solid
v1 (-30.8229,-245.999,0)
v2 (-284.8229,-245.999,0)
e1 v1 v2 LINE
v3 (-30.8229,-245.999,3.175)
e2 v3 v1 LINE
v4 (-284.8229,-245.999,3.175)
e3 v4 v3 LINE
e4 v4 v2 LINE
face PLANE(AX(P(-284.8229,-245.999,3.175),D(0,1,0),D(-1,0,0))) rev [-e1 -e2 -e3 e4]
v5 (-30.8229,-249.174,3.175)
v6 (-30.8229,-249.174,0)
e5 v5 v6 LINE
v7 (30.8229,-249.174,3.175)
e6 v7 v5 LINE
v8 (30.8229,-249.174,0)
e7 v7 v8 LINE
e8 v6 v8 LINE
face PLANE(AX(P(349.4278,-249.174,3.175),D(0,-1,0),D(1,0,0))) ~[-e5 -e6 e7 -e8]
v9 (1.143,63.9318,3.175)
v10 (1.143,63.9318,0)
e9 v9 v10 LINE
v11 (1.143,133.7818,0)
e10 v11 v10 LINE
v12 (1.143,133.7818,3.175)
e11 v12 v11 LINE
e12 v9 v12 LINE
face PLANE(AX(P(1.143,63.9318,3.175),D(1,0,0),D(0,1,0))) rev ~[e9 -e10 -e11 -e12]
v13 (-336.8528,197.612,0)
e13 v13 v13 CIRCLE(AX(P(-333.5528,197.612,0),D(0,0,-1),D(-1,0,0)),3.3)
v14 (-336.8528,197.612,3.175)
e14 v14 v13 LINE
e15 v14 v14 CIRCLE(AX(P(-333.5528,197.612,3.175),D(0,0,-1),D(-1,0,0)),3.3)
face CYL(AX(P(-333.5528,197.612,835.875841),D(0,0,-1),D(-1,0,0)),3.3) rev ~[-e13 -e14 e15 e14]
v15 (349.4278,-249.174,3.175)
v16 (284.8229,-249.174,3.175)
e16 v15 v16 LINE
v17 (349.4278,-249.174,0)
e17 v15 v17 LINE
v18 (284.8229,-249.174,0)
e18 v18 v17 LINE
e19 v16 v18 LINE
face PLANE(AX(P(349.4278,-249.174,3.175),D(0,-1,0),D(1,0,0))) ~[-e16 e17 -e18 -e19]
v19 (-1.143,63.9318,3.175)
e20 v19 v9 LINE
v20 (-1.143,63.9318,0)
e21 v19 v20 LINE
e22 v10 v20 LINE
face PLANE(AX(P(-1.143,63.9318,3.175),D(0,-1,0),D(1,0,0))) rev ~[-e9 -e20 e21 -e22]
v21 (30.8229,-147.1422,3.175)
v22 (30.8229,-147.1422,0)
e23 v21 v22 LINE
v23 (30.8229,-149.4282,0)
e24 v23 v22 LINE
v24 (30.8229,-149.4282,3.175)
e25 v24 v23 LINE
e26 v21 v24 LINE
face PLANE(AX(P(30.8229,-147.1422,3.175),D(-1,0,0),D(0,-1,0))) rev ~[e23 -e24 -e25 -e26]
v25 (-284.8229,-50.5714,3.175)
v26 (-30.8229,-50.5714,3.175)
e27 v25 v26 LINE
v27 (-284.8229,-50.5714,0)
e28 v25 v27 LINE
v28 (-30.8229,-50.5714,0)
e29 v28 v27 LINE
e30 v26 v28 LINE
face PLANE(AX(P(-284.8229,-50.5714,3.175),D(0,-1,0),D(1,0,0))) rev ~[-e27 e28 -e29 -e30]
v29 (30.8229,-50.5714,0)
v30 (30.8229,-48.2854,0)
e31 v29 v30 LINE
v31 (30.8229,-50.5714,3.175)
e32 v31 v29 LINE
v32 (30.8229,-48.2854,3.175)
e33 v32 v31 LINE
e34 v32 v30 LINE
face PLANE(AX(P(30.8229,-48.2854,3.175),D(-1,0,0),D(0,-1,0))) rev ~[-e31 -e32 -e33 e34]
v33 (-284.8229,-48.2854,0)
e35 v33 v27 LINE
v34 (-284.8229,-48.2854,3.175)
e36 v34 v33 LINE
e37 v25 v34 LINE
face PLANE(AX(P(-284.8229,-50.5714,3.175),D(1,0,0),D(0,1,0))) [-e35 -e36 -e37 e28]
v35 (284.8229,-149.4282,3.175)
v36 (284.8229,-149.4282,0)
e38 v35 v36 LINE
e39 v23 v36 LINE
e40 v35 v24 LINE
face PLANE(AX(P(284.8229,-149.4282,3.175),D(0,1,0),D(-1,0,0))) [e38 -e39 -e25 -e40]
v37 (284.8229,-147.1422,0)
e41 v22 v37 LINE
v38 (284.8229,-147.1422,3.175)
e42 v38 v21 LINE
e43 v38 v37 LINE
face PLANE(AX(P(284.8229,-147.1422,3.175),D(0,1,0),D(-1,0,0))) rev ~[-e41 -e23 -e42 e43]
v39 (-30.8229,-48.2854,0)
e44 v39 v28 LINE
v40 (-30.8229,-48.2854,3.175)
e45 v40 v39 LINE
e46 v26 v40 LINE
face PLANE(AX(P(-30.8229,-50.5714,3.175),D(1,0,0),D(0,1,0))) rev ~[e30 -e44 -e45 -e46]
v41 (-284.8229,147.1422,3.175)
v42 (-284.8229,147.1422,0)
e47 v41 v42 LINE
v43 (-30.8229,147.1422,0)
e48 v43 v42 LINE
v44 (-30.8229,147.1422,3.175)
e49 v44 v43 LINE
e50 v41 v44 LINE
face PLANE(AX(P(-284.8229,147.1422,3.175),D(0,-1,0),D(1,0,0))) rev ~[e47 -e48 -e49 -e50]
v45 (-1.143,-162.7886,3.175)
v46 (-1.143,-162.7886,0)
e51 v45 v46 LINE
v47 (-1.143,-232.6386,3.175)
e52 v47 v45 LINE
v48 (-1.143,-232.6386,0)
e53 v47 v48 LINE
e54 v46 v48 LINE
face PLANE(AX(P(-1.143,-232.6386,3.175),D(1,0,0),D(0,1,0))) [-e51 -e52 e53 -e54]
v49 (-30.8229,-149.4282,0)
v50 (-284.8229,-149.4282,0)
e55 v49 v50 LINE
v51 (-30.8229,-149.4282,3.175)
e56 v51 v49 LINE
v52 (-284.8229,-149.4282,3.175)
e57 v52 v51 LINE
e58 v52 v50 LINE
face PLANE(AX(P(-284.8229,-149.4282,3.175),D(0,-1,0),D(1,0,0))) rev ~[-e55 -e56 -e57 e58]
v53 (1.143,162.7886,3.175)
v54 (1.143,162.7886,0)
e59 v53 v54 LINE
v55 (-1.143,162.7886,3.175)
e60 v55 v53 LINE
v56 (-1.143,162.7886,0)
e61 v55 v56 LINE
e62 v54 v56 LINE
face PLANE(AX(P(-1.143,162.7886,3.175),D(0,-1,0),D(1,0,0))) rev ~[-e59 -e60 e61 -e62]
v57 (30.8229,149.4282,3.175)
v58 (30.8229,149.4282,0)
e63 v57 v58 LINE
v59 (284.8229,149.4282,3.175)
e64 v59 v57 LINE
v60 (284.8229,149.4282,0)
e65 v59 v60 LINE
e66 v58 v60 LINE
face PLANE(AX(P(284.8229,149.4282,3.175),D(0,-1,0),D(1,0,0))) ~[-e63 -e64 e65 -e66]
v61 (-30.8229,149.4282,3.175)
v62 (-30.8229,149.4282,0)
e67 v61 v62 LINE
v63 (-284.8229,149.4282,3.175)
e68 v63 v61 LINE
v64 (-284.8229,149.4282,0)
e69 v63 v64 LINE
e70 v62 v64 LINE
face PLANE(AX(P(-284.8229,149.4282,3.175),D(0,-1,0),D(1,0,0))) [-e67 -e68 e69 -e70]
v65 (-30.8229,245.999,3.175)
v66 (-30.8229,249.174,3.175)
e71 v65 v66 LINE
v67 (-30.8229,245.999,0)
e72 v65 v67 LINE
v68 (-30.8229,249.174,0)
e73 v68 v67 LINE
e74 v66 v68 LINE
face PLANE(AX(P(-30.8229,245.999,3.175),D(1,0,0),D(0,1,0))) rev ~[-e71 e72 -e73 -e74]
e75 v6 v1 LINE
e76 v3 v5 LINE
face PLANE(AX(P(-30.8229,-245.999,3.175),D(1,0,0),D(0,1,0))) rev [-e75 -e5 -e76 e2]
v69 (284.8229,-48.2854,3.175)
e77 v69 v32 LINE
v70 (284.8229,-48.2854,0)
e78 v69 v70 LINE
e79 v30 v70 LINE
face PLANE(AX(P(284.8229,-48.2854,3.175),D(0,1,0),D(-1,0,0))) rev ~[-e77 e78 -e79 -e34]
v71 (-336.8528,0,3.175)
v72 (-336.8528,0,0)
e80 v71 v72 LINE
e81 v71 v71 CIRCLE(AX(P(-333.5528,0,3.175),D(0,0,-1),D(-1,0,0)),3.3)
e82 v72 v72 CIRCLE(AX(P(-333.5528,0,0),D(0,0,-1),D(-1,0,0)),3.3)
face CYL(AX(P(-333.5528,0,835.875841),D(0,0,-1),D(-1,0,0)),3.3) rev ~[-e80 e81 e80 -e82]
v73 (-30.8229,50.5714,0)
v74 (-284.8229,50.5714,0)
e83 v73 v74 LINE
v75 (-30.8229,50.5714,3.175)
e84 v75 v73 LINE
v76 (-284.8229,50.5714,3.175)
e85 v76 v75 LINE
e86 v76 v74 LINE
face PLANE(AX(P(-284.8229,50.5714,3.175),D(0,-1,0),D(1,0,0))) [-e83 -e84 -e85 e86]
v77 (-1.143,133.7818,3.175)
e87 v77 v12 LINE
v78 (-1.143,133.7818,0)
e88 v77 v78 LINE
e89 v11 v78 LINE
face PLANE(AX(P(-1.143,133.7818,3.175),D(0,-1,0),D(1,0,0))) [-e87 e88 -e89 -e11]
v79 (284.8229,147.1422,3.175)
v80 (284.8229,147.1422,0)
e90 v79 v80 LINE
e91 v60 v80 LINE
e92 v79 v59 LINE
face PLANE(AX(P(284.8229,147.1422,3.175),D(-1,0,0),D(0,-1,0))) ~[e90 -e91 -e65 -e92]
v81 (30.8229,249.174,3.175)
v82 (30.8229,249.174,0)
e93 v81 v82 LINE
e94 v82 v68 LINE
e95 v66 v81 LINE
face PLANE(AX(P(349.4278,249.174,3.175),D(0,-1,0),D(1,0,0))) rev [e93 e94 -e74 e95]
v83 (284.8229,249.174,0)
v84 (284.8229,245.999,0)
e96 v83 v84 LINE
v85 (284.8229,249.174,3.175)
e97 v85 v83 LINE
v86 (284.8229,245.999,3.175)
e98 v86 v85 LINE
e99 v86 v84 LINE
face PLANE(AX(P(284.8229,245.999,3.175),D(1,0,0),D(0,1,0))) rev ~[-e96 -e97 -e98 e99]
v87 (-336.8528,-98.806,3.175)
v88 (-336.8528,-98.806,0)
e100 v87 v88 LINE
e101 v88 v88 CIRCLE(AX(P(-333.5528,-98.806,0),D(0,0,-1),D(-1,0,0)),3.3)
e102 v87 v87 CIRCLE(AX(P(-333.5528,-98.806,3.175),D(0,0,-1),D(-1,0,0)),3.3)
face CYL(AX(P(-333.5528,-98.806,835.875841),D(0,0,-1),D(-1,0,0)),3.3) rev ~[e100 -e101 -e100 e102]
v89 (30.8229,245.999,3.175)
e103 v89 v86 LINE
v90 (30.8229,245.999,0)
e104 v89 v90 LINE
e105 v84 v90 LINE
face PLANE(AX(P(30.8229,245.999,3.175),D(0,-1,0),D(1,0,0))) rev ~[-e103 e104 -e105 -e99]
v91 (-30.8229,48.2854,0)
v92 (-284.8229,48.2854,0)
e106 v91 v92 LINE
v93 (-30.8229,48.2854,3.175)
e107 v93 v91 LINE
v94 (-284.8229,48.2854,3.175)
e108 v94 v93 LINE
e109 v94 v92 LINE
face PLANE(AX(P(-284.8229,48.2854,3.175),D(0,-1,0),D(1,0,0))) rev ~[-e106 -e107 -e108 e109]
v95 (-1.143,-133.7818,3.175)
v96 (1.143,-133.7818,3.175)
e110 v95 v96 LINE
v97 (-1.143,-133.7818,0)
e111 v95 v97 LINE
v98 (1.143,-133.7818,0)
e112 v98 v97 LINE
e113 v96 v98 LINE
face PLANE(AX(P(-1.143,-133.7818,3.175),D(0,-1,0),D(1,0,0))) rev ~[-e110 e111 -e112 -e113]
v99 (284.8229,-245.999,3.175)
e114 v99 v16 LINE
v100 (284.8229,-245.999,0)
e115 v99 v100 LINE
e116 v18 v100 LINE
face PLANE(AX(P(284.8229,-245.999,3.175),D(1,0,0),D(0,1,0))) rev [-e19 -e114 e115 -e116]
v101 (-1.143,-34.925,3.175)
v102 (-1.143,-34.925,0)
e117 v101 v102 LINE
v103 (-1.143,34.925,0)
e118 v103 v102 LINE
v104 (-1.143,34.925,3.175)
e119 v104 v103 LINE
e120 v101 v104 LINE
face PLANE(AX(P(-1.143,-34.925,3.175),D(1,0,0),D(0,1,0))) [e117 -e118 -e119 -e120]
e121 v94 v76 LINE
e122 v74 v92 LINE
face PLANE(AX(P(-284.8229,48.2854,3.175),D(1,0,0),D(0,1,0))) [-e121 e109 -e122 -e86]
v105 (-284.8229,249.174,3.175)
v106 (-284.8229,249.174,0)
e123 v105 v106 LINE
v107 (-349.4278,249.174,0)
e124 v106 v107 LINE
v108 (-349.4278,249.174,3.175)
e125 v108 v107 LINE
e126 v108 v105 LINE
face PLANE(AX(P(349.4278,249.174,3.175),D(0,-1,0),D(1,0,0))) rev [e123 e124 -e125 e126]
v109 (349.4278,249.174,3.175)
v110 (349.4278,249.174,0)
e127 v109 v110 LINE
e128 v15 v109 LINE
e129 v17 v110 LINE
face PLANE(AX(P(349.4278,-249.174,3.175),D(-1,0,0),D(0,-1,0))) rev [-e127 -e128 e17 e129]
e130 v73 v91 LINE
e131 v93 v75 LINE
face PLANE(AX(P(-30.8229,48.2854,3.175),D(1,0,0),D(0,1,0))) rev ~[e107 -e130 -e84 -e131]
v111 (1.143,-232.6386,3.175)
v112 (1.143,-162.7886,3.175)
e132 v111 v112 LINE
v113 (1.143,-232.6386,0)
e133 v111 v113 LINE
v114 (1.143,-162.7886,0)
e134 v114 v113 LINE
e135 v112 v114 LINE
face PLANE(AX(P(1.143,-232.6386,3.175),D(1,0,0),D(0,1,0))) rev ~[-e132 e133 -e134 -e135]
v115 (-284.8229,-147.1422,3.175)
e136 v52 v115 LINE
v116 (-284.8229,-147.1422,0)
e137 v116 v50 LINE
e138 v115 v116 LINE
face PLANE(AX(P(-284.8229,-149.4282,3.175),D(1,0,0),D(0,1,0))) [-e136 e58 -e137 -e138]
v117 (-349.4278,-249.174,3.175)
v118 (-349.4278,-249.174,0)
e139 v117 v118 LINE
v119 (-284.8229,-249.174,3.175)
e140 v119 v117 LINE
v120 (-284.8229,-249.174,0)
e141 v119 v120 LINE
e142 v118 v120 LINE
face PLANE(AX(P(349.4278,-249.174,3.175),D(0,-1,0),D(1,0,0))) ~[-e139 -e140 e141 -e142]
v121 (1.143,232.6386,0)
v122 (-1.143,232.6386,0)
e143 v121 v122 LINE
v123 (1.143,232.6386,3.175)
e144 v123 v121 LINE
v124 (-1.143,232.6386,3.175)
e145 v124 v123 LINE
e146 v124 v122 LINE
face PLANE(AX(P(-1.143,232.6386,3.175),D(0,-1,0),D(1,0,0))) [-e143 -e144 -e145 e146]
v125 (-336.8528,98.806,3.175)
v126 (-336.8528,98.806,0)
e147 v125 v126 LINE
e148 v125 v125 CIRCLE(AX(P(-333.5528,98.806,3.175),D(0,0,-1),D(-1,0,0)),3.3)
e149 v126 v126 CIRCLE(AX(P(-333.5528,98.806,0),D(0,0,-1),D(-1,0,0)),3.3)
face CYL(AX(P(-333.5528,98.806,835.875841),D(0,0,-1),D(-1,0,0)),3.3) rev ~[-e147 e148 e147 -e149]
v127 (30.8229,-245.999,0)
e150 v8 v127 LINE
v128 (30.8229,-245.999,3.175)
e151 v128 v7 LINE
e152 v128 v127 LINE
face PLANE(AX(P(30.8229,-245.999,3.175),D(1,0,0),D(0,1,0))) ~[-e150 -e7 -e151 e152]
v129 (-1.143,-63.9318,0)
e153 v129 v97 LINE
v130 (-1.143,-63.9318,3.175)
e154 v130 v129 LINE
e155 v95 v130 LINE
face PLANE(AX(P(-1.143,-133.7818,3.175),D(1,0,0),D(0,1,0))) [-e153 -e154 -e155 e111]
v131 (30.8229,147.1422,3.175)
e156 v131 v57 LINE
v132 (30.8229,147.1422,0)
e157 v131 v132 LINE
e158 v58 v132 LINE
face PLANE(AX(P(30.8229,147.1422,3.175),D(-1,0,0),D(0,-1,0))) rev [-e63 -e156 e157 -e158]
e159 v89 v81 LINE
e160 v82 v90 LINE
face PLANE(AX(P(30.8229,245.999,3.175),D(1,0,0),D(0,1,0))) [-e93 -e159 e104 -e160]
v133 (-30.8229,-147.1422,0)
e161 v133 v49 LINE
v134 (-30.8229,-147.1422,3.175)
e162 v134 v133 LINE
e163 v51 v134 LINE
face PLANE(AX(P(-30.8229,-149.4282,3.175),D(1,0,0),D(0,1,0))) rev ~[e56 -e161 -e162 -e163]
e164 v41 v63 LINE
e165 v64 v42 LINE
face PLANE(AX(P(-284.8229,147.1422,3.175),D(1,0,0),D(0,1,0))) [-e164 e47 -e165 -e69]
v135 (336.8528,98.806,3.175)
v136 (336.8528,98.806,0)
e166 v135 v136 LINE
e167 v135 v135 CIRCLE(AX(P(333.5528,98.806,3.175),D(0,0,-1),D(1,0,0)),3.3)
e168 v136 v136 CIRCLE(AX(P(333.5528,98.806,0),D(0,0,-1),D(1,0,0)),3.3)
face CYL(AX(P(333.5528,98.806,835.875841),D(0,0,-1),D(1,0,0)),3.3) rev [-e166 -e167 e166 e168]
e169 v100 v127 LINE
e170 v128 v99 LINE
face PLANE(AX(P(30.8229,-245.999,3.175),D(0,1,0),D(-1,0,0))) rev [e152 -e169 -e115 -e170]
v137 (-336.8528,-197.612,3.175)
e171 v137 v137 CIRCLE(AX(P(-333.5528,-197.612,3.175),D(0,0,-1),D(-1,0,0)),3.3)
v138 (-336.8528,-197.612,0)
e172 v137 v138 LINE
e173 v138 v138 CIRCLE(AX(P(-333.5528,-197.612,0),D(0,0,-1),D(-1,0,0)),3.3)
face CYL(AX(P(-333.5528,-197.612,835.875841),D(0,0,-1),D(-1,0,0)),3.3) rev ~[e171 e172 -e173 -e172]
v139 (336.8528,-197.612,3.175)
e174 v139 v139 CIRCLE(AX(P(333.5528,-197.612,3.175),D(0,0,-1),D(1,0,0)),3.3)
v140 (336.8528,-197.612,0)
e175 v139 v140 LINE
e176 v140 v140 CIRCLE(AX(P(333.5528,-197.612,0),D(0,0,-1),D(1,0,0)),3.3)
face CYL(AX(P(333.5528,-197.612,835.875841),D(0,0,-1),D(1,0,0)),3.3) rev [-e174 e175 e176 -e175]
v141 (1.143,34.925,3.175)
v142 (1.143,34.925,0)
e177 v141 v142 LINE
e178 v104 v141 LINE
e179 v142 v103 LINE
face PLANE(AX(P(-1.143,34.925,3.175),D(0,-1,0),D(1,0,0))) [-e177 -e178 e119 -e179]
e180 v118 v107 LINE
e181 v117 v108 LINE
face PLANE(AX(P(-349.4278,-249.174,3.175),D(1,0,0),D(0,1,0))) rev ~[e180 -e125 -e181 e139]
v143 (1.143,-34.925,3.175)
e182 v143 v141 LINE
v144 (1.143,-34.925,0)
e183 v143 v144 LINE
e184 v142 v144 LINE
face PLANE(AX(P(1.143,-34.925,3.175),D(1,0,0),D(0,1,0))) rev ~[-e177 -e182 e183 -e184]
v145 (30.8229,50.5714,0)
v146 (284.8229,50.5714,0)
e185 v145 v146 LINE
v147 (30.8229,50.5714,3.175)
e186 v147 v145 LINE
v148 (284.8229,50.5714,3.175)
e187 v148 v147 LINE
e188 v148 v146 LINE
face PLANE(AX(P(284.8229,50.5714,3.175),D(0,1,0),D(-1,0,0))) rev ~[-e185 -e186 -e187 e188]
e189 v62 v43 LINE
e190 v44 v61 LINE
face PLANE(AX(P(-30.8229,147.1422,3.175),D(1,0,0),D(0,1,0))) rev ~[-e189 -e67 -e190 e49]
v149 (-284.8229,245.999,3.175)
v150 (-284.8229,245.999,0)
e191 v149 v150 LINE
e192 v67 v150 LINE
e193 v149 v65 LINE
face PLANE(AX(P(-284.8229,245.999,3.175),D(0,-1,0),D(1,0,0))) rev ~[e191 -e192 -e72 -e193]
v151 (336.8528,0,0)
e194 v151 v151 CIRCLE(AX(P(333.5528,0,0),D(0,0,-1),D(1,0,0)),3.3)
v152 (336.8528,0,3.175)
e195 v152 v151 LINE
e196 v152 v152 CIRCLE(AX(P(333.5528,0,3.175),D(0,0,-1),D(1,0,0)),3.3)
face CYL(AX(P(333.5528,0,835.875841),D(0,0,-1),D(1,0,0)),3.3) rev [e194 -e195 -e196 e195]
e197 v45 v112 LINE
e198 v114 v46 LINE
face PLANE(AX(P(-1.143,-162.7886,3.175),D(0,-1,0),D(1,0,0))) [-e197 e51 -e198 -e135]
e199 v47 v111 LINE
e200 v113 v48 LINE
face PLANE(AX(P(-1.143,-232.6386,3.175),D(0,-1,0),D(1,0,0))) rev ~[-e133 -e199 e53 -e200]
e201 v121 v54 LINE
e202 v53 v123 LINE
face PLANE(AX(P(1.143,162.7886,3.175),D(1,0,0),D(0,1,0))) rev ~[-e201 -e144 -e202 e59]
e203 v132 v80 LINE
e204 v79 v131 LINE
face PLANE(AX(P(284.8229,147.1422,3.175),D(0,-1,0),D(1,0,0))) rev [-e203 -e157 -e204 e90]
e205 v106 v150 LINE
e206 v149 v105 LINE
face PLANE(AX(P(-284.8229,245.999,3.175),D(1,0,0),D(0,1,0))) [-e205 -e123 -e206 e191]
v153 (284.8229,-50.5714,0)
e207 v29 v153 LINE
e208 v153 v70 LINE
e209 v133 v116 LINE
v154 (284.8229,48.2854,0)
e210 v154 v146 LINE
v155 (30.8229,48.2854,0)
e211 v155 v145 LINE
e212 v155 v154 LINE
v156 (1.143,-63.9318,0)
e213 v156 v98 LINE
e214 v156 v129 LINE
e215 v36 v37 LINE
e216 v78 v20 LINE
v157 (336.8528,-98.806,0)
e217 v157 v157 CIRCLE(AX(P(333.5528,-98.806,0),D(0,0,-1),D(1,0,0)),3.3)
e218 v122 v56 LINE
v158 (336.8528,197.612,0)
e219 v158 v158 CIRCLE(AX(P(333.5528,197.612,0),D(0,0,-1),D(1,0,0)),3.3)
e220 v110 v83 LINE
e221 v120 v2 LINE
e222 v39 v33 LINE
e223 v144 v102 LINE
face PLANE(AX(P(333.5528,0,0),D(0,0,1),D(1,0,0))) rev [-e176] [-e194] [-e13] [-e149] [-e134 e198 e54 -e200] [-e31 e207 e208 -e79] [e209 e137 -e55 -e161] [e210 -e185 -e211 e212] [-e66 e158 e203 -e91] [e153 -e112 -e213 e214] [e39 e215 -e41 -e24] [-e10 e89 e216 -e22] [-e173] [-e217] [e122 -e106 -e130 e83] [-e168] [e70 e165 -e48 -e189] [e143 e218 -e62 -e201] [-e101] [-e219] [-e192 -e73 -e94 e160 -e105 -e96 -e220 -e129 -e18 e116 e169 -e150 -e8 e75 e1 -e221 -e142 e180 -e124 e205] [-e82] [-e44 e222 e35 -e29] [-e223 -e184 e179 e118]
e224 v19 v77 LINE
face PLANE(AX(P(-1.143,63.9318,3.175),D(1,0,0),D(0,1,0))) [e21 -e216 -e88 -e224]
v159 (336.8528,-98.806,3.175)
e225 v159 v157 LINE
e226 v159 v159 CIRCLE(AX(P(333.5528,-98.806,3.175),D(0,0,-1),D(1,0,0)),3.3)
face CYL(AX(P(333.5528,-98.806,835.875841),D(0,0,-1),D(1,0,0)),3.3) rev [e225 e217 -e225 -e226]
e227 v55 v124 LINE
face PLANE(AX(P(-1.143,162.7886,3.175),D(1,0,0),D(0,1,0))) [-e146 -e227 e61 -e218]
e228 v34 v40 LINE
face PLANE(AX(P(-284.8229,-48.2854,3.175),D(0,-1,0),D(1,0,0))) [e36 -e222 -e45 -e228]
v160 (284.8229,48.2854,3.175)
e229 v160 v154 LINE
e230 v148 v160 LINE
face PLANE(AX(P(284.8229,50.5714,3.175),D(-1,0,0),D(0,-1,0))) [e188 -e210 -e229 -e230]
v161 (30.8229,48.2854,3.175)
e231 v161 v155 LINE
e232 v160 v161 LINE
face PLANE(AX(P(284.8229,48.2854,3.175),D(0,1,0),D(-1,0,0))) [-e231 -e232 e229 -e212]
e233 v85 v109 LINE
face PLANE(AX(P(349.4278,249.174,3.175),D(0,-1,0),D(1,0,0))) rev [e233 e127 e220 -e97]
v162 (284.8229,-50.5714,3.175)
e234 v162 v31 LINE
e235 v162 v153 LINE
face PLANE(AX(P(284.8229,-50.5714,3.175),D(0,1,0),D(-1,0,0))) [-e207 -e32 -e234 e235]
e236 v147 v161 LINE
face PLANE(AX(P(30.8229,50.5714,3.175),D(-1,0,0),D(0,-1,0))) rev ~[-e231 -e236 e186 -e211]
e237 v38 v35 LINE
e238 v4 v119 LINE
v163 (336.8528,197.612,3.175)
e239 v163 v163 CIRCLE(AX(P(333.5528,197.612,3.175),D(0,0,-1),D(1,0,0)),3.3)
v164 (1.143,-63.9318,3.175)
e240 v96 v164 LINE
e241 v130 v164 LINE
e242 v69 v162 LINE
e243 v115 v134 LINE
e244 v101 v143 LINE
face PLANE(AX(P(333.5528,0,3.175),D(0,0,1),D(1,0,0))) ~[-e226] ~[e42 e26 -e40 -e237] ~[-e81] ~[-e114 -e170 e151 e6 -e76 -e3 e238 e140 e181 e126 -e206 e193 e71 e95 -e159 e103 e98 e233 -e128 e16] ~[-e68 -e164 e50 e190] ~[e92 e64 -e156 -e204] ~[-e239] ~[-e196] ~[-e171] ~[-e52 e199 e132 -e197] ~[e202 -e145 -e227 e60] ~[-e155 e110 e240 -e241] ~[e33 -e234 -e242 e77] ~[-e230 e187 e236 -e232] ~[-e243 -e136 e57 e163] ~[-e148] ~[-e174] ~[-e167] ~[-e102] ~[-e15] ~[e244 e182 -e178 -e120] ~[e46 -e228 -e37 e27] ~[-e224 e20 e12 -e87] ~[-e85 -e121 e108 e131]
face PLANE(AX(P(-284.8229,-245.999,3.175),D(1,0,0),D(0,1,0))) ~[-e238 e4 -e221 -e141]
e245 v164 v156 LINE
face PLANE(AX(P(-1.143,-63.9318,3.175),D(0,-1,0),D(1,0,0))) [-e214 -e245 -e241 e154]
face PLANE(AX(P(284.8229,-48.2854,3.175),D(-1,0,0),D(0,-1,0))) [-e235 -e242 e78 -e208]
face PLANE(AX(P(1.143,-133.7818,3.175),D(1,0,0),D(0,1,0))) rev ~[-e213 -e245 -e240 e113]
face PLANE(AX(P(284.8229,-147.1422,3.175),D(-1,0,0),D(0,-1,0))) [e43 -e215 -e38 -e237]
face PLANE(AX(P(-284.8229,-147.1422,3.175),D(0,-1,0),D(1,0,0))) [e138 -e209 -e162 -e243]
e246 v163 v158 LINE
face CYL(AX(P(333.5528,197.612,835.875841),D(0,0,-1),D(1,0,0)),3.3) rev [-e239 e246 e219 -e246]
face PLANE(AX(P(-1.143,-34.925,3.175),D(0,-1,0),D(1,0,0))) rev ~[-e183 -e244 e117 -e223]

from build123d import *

# Parameters (mm, degrees)
MASTER_SKETCH_W         = 635.3556
MASTER_SKETCH_H         = 498.348
BOSS_EXTRUDE1_DEPTH     = 3.175
SKETCH2_W               = 31.75
SKETCH2_H               = 498.348
BOSS_EXTRUDE2_DEPTH     = 3.175
M6_CLEARANCE_HOLE1_D    = 6.6
SKETCH5_W               = 2.286
SKETCH5_H               = 69.85
CUT_EXTRUDE1_DEPTH      = 430.182420788
LPATTERN1_COUNT         = 5
LPATTERN1_PITCH         = 98.8568
SKETCH6_W               = 254
SKETCH6_H               = 3.175
CUT_EXTRUDE2_DEPTH      = 430.182420788
SKETCH7_W               = 254
SKETCH7_H               = 2.286
CUT_EXTRUDE3_DEPTH      = 430.182420788
LPATTERN2_COUNT         = 4
LPATTERN2_PITCH         = 98.8568
MIRROR4_COPY_1_SKETCH_W = 254
MIRROR4_COPY_1_SKETCH_H = 2.286
MIRROR4_COPY_1_DEPTH    = 430.182420788
MIRROR4_COPY_2_SKETCH_W = 254
MIRROR4_COPY_2_SKETCH_H = 2.286
MIRROR4_COPY_2_DEPTH    = 430.182420788
MIRROR4_COPY_3_SKETCH_W = 254
MIRROR4_COPY_3_SKETCH_H = 2.286
MIRROR4_COPY_3_DEPTH    = 430.182420788


with BuildPart() as part:
    # Master Sketch → Boss-Extrude1 (new body)
    with BuildSketch(Plane.XY):
        Rectangle(MASTER_SKETCH_W, MASTER_SKETCH_H)
    extrude(amount=BOSS_EXTRUDE1_DEPTH)

    # Sketch2 → Boss-Extrude2 (add)
    with BuildSketch(Plane.XY.offset(3.175)):
        with Locations((-333.5528, 0)):
            Rectangle(SKETCH2_W, SKETCH2_H)
    boss_extrude2 = extrude(amount=-BOSS_EXTRUDE2_DEPTH)

    # M6 Clearance Hole1 (through all)
    with Locations(Plane.XY.offset(3.175)):
        with Locations((-333.5528, -197.612), (-333.5528, -98.806), (-333.5528, 0), (-333.5528, 98.806), (-333.5528, 197.612)):
            m6_clearance_hole1 = Hole(M6_CLEARANCE_HOLE1_D / 2)

    # Mirror1: Boss-Extrude2, M6 Clearance Hole1 across plane
    add(boss_extrude2.mirror(Plane(origin=(0, 0, 0), x_dir=(0, 0, 1), z_dir=(1, 0, 0))))
    add(m6_clearance_hole1.mirror(Plane(origin=(0, 0, 0), x_dir=(0, 0, 1), z_dir=(1, 0, 0))), mode=Mode.SUBTRACT)

    # Sketch5 → Cut-Extrude1 (cut, through all)
    with BuildSketch(Plane.XY.offset(3.175)):
        with Locations((0, 197.7136)):
            Rectangle(SKETCH5_W, SKETCH5_H)
    cut_extrude1 = extrude(amount=-CUT_EXTRUDE1_DEPTH, mode=Mode.SUBTRACT)

    # LPattern1: Cut-Extrude1 ×5
    with Locations(*[(0, -i * LPATTERN1_PITCH, 0) for i in range(1, LPATTERN1_COUNT)]):
        add(cut_extrude1, mode=Mode.SUBTRACT)

    # Sketch6 → Cut-Extrude2 (cut, through all)
    with BuildSketch(Plane.XY.offset(3.175)):
        with Locations((-157.8229, 247.5865)):
            Rectangle(SKETCH6_W, SKETCH6_H)
        with Locations((157.8229, 247.5865)):
            Rectangle(SKETCH6_W, SKETCH6_H)
    cut_extrude2 = extrude(amount=-CUT_EXTRUDE2_DEPTH, mode=Mode.SUBTRACT)

    # Mirror3: Cut-Extrude2 across plane
    add(cut_extrude2.mirror(Plane.ZX), mode=Mode.SUBTRACT)

    # Sketch7 → Cut-Extrude3 (cut, through all)
    with BuildSketch(Plane.XY.offset(3.175)):
        with Locations((-157.8229, 148.2852)):
            Rectangle(SKETCH7_W, SKETCH7_H)
    cut_extrude3 = extrude(amount=-CUT_EXTRUDE3_DEPTH, mode=Mode.SUBTRACT)

    # LPattern2: Cut-Extrude3 ×4
    with Locations(*[(0, -i * LPATTERN2_PITCH, 0) for i in range(1, LPATTERN2_COUNT)]):
        add(cut_extrude3, mode=Mode.SUBTRACT)

    # Mirror4: Cut-Extrude3 across plane
    add(cut_extrude3.mirror(Plane(origin=(0, 0, 0), x_dir=(0, 0, 1), z_dir=(1, 0, 0))), mode=Mode.SUBTRACT)

    # Mirror4 copy 1 sketch → Mirror4 copy 1 (cut, through all)
    with BuildSketch(Plane(origin=(0, -98.8568, 3.175), x_dir=(-1, 0, 0), z_dir=(0, 0, 1))):
        with Locations((-157.8229, -148.2852)):
            Rectangle(MIRROR4_COPY_1_SKETCH_W, MIRROR4_COPY_1_SKETCH_H)
    extrude(amount=-MIRROR4_COPY_1_DEPTH, mode=Mode.SUBTRACT)

    # Mirror4 copy 2 sketch → Mirror4 copy 2 (cut, through all)
    with BuildSketch(Plane(origin=(0, -197.7136, 3.175), x_dir=(-1, 0, 0), z_dir=(0, 0, 1))):
        with Locations((-157.8229, -148.2852)):
            Rectangle(MIRROR4_COPY_2_SKETCH_W, MIRROR4_COPY_2_SKETCH_H)
    extrude(amount=-MIRROR4_COPY_2_DEPTH, mode=Mode.SUBTRACT)

    # Mirror4 copy 3 sketch → Mirror4 copy 3 (cut, through all)
    with BuildSketch(Plane(origin=(0, -296.5704, 3.175), x_dir=(-1, 0, 0), z_dir=(0, 0, 1))):
        with Locations((-157.8229, -148.2852)):
            Rectangle(MIRROR4_COPY_3_SKETCH_W, MIRROR4_COPY_3_SKETCH_H)
    extrude(amount=-MIRROR4_COPY_3_DEPTH, mode=Mode.SUBTRACT)


solid = part.part
